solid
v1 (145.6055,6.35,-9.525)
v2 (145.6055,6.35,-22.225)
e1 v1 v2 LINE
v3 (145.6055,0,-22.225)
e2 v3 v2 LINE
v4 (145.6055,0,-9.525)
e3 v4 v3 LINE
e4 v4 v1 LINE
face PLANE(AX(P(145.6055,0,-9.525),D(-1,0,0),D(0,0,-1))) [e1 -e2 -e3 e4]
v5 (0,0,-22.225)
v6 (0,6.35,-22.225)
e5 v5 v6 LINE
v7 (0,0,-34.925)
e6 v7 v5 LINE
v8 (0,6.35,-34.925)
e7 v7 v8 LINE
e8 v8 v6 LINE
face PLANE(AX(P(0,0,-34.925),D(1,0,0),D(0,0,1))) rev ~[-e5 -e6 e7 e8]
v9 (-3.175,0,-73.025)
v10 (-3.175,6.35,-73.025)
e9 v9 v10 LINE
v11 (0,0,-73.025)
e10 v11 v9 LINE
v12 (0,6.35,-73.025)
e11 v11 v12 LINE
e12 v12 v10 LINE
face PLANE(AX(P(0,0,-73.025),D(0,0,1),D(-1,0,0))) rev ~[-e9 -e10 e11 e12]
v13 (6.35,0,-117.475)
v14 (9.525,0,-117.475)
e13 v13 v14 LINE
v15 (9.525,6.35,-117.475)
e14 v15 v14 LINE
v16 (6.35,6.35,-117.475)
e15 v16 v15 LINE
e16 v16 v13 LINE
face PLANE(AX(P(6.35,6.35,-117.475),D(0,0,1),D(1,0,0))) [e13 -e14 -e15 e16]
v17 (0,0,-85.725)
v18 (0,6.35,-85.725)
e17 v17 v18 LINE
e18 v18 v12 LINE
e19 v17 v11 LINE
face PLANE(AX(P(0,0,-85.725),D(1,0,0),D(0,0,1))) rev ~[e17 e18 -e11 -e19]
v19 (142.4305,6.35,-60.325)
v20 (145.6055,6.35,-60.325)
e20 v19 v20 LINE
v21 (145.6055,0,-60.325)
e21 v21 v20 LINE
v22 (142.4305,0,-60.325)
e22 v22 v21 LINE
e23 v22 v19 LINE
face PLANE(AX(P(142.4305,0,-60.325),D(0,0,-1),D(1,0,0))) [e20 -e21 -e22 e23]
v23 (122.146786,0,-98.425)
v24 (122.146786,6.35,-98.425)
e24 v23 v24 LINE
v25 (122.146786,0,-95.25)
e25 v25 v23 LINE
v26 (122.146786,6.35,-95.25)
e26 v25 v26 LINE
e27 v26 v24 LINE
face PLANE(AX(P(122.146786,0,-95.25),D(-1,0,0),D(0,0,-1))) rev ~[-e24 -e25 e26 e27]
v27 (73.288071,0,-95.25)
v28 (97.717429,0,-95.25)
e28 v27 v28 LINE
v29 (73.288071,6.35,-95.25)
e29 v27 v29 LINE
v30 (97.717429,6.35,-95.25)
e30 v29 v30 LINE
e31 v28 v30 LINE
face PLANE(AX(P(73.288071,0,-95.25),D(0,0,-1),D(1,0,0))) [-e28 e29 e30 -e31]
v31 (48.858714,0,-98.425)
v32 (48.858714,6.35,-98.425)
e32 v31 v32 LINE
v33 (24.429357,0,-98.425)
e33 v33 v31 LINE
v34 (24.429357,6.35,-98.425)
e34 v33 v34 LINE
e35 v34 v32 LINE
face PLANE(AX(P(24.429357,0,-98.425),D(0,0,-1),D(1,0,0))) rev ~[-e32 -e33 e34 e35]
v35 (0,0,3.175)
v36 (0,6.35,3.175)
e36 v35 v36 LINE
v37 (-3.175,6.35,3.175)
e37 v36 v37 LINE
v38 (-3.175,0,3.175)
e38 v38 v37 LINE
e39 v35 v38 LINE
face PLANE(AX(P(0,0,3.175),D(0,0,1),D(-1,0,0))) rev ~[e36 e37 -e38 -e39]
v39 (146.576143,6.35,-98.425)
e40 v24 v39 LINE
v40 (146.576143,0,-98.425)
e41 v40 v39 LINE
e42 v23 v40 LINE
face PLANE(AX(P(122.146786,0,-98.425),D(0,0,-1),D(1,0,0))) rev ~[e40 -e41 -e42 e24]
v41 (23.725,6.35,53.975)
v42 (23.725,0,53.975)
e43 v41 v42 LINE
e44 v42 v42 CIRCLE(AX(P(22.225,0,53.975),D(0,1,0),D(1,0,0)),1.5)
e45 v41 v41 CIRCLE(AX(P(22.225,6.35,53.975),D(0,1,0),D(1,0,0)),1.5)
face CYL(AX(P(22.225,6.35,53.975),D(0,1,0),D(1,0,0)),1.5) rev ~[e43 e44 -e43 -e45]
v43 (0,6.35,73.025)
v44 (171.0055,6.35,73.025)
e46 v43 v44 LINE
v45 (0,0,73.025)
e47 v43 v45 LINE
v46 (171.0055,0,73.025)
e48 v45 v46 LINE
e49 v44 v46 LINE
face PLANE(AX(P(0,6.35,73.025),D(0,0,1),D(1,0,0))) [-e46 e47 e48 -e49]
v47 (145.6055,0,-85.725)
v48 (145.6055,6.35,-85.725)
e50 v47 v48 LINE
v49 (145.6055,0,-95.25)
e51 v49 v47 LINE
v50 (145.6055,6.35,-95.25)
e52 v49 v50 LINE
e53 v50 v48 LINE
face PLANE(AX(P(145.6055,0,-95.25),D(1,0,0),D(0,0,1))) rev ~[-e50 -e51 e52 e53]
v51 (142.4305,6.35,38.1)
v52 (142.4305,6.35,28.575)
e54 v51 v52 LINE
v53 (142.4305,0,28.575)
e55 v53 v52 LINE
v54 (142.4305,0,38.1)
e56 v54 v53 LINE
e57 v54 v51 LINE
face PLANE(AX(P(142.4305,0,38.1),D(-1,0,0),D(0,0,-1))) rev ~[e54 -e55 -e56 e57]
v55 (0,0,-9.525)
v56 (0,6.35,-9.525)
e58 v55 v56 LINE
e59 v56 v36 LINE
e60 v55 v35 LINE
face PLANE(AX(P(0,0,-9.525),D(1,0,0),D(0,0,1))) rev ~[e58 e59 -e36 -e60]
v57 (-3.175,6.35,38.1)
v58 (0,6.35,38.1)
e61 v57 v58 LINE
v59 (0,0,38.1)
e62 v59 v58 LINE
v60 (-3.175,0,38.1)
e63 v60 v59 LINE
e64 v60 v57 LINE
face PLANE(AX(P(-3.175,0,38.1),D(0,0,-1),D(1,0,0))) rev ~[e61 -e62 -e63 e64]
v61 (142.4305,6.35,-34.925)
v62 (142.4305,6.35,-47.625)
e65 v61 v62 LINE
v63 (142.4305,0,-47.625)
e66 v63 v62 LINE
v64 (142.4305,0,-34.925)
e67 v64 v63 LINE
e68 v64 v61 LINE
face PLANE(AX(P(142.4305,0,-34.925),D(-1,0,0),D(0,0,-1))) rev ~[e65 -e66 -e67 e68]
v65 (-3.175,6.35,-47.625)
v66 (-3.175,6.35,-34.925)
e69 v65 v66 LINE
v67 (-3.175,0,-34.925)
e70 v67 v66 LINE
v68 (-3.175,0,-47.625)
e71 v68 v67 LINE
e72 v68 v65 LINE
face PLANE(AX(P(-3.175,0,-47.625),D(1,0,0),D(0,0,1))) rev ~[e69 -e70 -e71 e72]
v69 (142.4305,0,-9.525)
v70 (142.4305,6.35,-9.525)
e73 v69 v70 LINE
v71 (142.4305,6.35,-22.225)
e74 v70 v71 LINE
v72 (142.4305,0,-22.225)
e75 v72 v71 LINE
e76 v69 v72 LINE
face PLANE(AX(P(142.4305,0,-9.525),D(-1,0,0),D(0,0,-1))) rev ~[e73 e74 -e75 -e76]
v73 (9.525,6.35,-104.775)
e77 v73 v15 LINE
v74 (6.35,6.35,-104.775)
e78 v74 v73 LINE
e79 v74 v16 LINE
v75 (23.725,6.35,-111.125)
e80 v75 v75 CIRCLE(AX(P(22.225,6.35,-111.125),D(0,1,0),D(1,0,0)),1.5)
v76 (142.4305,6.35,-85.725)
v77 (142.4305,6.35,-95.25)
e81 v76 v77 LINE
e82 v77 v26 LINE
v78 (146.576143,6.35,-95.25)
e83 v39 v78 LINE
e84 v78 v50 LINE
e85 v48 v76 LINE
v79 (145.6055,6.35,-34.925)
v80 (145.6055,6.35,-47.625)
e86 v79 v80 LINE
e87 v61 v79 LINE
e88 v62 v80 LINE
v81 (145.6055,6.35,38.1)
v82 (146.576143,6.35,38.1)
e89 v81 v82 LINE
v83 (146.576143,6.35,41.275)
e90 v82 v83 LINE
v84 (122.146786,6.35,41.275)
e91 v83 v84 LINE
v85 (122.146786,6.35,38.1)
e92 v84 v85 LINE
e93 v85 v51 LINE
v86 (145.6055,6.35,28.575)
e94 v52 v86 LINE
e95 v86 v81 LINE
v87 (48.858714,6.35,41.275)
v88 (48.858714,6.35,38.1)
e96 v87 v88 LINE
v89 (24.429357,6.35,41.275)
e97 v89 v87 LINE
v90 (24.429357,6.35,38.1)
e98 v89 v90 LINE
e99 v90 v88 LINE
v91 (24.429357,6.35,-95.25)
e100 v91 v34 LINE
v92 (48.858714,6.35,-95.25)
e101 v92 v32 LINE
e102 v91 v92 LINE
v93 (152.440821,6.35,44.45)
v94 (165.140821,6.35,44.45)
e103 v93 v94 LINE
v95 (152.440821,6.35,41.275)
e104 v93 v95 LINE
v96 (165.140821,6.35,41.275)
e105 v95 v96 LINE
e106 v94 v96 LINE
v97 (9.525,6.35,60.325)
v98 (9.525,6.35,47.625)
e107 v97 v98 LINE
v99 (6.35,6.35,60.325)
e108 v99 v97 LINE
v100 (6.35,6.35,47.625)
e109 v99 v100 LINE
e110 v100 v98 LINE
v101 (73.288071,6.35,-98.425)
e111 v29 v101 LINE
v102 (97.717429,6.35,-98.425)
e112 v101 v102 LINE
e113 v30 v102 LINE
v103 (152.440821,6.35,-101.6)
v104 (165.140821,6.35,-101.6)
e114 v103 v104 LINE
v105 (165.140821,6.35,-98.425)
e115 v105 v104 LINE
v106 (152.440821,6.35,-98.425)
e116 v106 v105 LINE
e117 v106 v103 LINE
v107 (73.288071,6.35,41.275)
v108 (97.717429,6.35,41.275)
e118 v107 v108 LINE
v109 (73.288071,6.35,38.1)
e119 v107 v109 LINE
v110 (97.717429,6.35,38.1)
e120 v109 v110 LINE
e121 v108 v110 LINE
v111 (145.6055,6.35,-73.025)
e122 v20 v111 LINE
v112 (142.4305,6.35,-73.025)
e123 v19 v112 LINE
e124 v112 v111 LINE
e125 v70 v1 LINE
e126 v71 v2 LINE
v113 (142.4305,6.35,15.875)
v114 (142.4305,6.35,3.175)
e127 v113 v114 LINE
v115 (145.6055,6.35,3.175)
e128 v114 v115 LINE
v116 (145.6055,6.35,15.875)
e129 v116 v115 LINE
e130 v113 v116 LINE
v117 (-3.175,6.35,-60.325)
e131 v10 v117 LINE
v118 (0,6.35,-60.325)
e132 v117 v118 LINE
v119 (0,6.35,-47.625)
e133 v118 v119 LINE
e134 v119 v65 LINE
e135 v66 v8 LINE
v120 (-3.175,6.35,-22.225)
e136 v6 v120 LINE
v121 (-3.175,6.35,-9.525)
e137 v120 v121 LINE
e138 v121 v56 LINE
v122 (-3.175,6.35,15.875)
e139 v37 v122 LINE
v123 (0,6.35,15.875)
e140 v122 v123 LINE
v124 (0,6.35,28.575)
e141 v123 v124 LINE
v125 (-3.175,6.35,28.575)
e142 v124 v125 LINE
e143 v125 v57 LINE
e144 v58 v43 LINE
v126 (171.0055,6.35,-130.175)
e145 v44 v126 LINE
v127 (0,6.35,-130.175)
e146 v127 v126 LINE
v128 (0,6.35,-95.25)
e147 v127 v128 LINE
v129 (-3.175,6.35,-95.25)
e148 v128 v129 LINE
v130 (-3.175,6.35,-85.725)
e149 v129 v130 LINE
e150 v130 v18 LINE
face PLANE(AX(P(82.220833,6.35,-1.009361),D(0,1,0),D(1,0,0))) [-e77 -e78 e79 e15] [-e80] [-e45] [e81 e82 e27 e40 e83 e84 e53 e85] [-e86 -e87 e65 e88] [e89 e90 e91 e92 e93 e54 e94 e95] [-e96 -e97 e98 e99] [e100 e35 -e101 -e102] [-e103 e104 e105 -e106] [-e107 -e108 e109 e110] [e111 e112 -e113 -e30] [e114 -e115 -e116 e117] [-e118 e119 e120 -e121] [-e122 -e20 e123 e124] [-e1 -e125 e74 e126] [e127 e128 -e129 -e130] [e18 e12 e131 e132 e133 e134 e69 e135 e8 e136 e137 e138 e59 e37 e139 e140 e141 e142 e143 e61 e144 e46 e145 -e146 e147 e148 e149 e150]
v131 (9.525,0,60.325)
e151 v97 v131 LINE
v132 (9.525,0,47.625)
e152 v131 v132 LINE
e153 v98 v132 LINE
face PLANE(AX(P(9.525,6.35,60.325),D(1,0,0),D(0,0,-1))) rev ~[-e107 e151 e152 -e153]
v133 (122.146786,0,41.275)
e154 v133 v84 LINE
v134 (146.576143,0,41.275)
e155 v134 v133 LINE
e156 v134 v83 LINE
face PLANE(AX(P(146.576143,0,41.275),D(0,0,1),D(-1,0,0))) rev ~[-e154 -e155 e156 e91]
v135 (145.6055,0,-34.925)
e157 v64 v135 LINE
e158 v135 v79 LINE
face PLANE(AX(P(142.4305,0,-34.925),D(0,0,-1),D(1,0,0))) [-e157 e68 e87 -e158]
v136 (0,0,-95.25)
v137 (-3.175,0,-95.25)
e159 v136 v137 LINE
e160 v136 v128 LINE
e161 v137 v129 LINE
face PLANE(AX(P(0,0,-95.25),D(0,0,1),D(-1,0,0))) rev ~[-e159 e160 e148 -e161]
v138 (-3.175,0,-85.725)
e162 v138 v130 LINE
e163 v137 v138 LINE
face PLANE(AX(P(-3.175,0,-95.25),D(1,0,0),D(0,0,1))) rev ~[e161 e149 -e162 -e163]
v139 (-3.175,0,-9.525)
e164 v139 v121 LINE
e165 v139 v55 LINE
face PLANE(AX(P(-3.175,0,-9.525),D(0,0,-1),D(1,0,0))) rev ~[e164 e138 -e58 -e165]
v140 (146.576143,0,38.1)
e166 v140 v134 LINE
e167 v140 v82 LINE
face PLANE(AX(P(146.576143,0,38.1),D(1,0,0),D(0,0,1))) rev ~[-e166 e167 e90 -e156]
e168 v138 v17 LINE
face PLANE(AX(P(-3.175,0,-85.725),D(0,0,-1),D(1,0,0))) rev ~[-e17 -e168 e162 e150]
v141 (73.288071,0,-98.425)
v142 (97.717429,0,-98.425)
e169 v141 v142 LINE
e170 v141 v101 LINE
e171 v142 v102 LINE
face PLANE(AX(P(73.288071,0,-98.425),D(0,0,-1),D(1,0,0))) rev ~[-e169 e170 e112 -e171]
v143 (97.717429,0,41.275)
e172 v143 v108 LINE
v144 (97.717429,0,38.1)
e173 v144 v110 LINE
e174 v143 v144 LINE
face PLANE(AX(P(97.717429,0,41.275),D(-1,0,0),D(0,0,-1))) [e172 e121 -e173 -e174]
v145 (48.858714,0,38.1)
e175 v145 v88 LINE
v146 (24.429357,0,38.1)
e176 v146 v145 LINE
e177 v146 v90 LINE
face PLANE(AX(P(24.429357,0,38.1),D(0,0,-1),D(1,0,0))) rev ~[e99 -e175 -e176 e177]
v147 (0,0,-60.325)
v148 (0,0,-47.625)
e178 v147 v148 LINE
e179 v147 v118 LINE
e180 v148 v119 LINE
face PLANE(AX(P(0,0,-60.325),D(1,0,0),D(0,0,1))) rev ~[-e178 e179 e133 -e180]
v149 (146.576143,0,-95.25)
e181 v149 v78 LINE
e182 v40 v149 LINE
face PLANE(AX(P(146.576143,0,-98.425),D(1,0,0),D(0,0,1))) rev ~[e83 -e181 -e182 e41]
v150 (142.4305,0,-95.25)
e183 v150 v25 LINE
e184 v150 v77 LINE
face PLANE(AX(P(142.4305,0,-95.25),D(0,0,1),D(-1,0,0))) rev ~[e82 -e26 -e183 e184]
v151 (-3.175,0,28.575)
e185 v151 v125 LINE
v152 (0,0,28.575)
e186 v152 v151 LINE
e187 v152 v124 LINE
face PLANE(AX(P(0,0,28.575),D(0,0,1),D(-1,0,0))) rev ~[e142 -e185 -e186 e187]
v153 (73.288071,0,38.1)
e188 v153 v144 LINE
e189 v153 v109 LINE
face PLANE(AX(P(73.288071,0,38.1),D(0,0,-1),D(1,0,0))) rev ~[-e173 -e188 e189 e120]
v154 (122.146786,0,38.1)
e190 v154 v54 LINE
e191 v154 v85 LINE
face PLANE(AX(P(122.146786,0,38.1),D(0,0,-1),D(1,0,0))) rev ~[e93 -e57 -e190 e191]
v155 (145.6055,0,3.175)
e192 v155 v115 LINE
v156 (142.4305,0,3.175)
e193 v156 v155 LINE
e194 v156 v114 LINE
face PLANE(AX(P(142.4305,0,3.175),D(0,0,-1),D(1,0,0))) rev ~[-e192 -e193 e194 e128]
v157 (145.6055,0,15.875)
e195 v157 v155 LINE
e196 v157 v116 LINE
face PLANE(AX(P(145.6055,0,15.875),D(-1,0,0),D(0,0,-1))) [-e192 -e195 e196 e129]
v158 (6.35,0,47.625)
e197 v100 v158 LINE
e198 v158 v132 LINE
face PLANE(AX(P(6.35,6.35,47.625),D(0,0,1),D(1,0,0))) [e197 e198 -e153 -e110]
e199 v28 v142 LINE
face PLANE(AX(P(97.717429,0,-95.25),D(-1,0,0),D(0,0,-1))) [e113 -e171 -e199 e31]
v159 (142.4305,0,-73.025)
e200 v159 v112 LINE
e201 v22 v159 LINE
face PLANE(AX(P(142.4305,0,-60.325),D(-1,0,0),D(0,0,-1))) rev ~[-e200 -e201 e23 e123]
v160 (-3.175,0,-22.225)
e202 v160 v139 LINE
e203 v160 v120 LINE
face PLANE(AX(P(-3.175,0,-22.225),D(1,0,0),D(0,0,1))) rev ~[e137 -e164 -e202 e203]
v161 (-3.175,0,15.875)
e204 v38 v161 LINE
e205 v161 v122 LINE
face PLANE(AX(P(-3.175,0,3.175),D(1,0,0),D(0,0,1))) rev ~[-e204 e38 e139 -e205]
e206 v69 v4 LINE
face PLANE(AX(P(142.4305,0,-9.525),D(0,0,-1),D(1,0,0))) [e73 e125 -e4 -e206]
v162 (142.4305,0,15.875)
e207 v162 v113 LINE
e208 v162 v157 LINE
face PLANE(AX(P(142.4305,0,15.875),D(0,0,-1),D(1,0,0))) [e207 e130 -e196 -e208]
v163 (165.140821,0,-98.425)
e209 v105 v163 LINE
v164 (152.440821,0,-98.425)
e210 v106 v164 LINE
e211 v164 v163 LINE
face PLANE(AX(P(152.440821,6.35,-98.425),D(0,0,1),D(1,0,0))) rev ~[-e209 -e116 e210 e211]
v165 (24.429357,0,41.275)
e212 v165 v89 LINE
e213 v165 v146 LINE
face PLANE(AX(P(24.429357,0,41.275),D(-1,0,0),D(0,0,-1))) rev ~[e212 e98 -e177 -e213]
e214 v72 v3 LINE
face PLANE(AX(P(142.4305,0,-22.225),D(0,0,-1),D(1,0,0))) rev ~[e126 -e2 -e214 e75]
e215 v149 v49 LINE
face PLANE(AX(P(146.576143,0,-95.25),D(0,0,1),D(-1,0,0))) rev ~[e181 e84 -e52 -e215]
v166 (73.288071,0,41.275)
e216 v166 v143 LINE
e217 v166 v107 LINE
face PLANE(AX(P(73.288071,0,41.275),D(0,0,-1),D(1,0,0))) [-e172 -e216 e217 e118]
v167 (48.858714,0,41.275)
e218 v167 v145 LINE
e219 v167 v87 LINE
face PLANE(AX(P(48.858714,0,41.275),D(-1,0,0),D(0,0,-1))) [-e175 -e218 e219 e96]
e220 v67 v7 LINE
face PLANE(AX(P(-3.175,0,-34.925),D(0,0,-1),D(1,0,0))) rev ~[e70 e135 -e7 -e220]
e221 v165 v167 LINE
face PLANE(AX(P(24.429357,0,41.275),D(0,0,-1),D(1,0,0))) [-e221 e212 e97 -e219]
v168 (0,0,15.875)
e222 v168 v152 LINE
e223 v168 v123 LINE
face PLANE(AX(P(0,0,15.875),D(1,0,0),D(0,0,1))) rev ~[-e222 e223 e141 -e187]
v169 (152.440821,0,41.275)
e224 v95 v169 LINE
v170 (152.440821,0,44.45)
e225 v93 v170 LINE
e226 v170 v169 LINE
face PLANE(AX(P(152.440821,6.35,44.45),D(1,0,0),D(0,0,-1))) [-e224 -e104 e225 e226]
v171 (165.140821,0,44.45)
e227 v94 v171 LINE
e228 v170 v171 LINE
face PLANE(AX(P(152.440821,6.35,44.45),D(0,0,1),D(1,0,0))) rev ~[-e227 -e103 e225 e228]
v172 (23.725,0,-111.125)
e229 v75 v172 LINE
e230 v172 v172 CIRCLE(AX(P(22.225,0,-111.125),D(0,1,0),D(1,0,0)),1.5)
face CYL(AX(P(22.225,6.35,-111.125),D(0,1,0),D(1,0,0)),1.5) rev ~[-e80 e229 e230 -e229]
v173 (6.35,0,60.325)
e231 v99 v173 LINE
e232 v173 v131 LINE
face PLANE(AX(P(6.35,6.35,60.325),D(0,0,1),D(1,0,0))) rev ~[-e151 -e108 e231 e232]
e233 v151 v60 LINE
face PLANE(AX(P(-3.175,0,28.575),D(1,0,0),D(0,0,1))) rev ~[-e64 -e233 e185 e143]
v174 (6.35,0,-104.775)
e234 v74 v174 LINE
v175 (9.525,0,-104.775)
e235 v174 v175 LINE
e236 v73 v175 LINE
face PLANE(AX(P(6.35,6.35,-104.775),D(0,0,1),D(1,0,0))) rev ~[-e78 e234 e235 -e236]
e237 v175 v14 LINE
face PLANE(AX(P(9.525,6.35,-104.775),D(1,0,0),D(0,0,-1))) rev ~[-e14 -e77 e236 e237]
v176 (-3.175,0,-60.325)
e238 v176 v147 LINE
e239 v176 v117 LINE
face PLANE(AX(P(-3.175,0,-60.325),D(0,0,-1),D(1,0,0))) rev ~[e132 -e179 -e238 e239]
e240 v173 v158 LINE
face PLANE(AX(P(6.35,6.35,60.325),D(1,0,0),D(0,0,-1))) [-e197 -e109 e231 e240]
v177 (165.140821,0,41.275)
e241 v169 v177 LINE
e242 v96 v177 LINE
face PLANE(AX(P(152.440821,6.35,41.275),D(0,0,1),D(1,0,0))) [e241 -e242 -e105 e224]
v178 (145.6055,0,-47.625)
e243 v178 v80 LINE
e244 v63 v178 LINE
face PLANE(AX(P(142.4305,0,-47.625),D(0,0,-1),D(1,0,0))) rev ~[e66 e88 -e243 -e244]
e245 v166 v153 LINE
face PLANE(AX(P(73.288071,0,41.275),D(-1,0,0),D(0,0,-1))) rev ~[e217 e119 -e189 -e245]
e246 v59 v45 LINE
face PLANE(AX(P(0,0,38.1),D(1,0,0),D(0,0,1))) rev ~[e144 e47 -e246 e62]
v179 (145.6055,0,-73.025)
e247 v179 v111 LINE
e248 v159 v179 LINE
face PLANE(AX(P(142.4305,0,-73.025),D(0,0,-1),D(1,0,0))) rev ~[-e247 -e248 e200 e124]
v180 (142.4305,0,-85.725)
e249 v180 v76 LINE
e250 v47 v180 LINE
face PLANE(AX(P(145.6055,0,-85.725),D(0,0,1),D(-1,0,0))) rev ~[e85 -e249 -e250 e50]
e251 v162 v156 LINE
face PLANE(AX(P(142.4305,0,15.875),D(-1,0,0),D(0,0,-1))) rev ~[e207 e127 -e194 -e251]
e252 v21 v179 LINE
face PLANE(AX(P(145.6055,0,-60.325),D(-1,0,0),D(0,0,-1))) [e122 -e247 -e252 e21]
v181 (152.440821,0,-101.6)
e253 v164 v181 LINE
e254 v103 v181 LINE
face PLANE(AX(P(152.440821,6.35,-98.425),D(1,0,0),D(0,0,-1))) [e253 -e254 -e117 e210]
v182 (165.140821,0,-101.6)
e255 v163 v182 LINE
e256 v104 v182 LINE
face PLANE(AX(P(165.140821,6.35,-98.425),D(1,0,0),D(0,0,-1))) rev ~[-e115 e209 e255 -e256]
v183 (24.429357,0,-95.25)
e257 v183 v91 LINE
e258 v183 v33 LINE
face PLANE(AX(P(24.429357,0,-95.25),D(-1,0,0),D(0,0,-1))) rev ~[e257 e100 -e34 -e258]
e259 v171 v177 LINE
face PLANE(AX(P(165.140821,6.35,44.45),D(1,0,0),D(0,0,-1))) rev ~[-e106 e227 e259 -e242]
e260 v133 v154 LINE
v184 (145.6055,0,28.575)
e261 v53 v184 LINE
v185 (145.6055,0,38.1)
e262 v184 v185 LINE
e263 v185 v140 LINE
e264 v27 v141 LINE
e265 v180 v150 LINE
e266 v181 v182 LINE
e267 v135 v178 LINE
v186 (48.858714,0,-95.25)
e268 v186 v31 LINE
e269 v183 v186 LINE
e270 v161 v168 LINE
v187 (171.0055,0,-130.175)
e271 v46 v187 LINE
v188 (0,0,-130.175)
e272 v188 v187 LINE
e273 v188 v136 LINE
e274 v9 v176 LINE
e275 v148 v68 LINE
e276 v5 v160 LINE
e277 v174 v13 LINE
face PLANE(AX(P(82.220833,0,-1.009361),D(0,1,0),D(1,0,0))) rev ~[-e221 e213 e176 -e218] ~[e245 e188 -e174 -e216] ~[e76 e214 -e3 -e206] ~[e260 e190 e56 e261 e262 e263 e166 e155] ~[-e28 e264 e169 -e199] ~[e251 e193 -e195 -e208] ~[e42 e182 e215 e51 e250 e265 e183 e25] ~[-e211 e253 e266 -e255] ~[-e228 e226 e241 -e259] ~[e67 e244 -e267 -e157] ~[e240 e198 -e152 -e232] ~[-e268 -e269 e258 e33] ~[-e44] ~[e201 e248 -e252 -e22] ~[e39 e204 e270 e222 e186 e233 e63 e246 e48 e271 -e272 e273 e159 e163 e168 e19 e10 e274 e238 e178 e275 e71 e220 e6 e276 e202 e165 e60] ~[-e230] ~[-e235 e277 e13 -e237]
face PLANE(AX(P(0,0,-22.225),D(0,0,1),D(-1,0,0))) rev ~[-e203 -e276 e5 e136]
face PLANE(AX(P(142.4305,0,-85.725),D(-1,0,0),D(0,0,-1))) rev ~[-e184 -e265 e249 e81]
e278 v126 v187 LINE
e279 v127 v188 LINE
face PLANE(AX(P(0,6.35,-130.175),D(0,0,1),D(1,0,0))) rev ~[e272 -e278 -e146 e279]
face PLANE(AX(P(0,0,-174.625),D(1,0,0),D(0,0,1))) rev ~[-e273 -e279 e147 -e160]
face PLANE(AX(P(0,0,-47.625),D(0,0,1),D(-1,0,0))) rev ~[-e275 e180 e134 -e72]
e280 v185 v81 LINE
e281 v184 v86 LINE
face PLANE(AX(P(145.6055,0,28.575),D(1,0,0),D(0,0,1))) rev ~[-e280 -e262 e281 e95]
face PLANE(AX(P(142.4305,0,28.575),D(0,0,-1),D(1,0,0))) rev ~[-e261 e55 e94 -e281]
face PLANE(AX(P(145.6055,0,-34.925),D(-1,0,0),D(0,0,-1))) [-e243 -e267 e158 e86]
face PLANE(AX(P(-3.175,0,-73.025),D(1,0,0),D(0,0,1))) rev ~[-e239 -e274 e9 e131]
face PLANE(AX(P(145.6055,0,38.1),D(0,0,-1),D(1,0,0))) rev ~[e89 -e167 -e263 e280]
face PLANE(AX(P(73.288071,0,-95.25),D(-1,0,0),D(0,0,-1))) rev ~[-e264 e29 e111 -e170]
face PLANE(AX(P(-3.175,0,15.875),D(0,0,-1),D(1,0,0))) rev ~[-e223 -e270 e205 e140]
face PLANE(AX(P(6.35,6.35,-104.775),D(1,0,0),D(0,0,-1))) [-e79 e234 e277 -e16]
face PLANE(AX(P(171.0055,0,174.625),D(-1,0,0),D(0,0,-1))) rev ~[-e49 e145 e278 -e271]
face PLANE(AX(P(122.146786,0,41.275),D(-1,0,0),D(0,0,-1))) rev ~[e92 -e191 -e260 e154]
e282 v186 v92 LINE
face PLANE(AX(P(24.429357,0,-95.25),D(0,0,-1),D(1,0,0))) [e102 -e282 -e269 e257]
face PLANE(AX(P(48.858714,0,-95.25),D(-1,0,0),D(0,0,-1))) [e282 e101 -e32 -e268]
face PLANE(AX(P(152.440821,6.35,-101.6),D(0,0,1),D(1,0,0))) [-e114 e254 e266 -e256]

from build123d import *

# Parameters (mm, degrees)
SKETCH1_W           = 24.429357143
SKETCH1_H           = 3.175
SKETCH1_W_2         = 24.429357142
SKETCH1_W_3         = 3.175
SKETCH1_H_2         = 12.7
BOSS_EXTRUDE1_DEPTH = 6.35
SKETCH2_R           = 1.499997
SKETCH2_R_2         = 1.5
SKETCH2_W           = 12.7
SKETCH2_H           = 3.175
SKETCH2_W_2         = 3.175
SKETCH2_H_2         = 12.7
CUT_EXTRUDE1_DEPTH  = 7.35
SKETCH3_W           = 171.0055
SKETCH3_H           = 101.6
SKETCH3_H_2         = 44.45
CUT_EXTRUDE2_DEPTH  = 7.35


with BuildPart() as part:
    # Sketch1 → Boss-Extrude1 (new body)
    with BuildSketch(Plane(origin=(0, 0, 0), x_dir=(1, 0, 0), z_dir=(0, 1, 0))):
        Polygon((0, 174.625), (0, 95.25), (-3.175, 95.25), (-3.175, 85.725), (0, 85.725), (0, 73.025), (-3.175, 73.025), (-3.175, 60.325), (0, 60.325), (0, 47.625), (-3.175, 47.625), (-3.175, 34.925), (0, 34.925), (0, 22.225), (-3.175, 22.225), (-3.175, 9.525), (0, 9.525), (0, -3.175), (-3.175, -3.175), (-3.175, -15.875), (0, -15.875), (0, -28.575), (-3.175, -28.575), (-3.175, -38.1), (0, -38.1), (0, -174.625), (171.0055, -174.625), (171.0055, 174.625), align=None)
        with Locations((36.644035714, -39.6875)):
            Rectangle(SKETCH1_W, SKETCH1_H, mode=Mode.SUBTRACT)
        with Locations((85.50275, -39.6875)):
            Rectangle(SKETCH1_W_2, SKETCH1_H, mode=Mode.SUBTRACT)
        Polygon((122.146785714, -38.1), (142.4305, -38.1), (142.4305, -28.575), (145.6055, -28.575), (145.6055, -38.1), (146.576142857, -38.1), (146.576142857, -41.275), (122.146785714, -41.275), align=None, mode=Mode.SUBTRACT)
        with Locations((144.018, -9.525)):
            Rectangle(SKETCH1_W_3, SKETCH1_H_2, mode=Mode.SUBTRACT)
        with Locations((144.018, 15.875)):
            Rectangle(SKETCH1_W_3, SKETCH1_H_2, mode=Mode.SUBTRACT)
        with Locations((144.018, 41.275)):
            Rectangle(SKETCH1_W_3, SKETCH1_H_2, mode=Mode.SUBTRACT)
        with Locations((144.018, 66.675)):
            Rectangle(SKETCH1_W_3, SKETCH1_H_2, mode=Mode.SUBTRACT)
        Polygon((142.4305, 85.725), (142.4305, 95.25), (122.146785714, 95.25), (122.146785714, 98.425), (146.576142857, 98.425), (146.576142857, 95.25), (145.6055, 95.25), (145.6055, 85.725), align=None, mode=Mode.SUBTRACT)
        with Locations((85.50275, 96.8375)):
            Rectangle(SKETCH1_W_2, SKETCH1_H, mode=Mode.SUBTRACT)
        with Locations((36.644035714, 96.8375)):
            Rectangle(SKETCH1_W, SKETCH1_H, mode=Mode.SUBTRACT)
    extrude(amount=BOSS_EXTRUDE1_DEPTH)

    # Sketch2 → Cut-Extrude1 (cut, through all)
    with BuildSketch(Plane(origin=(0, 6.35, 0), x_dir=(1, 0, 0), z_dir=(0, 1, 0))):
        with Locations((9.525, -165.1)):
            Circle(SKETCH2_R)
        with Locations((9.525, 165.1)):
            Circle(SKETCH2_R)
        with Locations((22.225, -53.975)):
            Circle(SKETCH2_R_2)
        with Locations((22.225, 111.125)):
            Circle(SKETCH2_R_2)
        with Locations((158.790821429, -42.8625)):
            Rectangle(SKETCH2_W, SKETCH2_H)
        with Locations((158.790821429, 100.0125)):
            Rectangle(SKETCH2_W, SKETCH2_H)
        with Locations((7.9375, -53.975)):
            Rectangle(SKETCH2_W_2, SKETCH2_H_2)
        with Locations((7.9375, 111.125)):
            Rectangle(SKETCH2_W_2, SKETCH2_H_2)
    extrude(amount=-CUT_EXTRUDE1_DEPTH, mode=Mode.SUBTRACT)

    # Sketch3 → Cut-Extrude2 (cut, through all)
    with BuildSketch(Plane(origin=(0, 6.35, 0), x_dir=(1, 0, 0), z_dir=(0, 1, 0))):
        with Locations((85.50275, -123.825)):
            Rectangle(SKETCH3_W, SKETCH3_H)
        with Locations((85.50275, 152.4)):
            Rectangle(SKETCH3_W, SKETCH3_H_2)
    extrude(amount=-CUT_EXTRUDE2_DEPTH, mode=Mode.SUBTRACT)


solid = part.part
